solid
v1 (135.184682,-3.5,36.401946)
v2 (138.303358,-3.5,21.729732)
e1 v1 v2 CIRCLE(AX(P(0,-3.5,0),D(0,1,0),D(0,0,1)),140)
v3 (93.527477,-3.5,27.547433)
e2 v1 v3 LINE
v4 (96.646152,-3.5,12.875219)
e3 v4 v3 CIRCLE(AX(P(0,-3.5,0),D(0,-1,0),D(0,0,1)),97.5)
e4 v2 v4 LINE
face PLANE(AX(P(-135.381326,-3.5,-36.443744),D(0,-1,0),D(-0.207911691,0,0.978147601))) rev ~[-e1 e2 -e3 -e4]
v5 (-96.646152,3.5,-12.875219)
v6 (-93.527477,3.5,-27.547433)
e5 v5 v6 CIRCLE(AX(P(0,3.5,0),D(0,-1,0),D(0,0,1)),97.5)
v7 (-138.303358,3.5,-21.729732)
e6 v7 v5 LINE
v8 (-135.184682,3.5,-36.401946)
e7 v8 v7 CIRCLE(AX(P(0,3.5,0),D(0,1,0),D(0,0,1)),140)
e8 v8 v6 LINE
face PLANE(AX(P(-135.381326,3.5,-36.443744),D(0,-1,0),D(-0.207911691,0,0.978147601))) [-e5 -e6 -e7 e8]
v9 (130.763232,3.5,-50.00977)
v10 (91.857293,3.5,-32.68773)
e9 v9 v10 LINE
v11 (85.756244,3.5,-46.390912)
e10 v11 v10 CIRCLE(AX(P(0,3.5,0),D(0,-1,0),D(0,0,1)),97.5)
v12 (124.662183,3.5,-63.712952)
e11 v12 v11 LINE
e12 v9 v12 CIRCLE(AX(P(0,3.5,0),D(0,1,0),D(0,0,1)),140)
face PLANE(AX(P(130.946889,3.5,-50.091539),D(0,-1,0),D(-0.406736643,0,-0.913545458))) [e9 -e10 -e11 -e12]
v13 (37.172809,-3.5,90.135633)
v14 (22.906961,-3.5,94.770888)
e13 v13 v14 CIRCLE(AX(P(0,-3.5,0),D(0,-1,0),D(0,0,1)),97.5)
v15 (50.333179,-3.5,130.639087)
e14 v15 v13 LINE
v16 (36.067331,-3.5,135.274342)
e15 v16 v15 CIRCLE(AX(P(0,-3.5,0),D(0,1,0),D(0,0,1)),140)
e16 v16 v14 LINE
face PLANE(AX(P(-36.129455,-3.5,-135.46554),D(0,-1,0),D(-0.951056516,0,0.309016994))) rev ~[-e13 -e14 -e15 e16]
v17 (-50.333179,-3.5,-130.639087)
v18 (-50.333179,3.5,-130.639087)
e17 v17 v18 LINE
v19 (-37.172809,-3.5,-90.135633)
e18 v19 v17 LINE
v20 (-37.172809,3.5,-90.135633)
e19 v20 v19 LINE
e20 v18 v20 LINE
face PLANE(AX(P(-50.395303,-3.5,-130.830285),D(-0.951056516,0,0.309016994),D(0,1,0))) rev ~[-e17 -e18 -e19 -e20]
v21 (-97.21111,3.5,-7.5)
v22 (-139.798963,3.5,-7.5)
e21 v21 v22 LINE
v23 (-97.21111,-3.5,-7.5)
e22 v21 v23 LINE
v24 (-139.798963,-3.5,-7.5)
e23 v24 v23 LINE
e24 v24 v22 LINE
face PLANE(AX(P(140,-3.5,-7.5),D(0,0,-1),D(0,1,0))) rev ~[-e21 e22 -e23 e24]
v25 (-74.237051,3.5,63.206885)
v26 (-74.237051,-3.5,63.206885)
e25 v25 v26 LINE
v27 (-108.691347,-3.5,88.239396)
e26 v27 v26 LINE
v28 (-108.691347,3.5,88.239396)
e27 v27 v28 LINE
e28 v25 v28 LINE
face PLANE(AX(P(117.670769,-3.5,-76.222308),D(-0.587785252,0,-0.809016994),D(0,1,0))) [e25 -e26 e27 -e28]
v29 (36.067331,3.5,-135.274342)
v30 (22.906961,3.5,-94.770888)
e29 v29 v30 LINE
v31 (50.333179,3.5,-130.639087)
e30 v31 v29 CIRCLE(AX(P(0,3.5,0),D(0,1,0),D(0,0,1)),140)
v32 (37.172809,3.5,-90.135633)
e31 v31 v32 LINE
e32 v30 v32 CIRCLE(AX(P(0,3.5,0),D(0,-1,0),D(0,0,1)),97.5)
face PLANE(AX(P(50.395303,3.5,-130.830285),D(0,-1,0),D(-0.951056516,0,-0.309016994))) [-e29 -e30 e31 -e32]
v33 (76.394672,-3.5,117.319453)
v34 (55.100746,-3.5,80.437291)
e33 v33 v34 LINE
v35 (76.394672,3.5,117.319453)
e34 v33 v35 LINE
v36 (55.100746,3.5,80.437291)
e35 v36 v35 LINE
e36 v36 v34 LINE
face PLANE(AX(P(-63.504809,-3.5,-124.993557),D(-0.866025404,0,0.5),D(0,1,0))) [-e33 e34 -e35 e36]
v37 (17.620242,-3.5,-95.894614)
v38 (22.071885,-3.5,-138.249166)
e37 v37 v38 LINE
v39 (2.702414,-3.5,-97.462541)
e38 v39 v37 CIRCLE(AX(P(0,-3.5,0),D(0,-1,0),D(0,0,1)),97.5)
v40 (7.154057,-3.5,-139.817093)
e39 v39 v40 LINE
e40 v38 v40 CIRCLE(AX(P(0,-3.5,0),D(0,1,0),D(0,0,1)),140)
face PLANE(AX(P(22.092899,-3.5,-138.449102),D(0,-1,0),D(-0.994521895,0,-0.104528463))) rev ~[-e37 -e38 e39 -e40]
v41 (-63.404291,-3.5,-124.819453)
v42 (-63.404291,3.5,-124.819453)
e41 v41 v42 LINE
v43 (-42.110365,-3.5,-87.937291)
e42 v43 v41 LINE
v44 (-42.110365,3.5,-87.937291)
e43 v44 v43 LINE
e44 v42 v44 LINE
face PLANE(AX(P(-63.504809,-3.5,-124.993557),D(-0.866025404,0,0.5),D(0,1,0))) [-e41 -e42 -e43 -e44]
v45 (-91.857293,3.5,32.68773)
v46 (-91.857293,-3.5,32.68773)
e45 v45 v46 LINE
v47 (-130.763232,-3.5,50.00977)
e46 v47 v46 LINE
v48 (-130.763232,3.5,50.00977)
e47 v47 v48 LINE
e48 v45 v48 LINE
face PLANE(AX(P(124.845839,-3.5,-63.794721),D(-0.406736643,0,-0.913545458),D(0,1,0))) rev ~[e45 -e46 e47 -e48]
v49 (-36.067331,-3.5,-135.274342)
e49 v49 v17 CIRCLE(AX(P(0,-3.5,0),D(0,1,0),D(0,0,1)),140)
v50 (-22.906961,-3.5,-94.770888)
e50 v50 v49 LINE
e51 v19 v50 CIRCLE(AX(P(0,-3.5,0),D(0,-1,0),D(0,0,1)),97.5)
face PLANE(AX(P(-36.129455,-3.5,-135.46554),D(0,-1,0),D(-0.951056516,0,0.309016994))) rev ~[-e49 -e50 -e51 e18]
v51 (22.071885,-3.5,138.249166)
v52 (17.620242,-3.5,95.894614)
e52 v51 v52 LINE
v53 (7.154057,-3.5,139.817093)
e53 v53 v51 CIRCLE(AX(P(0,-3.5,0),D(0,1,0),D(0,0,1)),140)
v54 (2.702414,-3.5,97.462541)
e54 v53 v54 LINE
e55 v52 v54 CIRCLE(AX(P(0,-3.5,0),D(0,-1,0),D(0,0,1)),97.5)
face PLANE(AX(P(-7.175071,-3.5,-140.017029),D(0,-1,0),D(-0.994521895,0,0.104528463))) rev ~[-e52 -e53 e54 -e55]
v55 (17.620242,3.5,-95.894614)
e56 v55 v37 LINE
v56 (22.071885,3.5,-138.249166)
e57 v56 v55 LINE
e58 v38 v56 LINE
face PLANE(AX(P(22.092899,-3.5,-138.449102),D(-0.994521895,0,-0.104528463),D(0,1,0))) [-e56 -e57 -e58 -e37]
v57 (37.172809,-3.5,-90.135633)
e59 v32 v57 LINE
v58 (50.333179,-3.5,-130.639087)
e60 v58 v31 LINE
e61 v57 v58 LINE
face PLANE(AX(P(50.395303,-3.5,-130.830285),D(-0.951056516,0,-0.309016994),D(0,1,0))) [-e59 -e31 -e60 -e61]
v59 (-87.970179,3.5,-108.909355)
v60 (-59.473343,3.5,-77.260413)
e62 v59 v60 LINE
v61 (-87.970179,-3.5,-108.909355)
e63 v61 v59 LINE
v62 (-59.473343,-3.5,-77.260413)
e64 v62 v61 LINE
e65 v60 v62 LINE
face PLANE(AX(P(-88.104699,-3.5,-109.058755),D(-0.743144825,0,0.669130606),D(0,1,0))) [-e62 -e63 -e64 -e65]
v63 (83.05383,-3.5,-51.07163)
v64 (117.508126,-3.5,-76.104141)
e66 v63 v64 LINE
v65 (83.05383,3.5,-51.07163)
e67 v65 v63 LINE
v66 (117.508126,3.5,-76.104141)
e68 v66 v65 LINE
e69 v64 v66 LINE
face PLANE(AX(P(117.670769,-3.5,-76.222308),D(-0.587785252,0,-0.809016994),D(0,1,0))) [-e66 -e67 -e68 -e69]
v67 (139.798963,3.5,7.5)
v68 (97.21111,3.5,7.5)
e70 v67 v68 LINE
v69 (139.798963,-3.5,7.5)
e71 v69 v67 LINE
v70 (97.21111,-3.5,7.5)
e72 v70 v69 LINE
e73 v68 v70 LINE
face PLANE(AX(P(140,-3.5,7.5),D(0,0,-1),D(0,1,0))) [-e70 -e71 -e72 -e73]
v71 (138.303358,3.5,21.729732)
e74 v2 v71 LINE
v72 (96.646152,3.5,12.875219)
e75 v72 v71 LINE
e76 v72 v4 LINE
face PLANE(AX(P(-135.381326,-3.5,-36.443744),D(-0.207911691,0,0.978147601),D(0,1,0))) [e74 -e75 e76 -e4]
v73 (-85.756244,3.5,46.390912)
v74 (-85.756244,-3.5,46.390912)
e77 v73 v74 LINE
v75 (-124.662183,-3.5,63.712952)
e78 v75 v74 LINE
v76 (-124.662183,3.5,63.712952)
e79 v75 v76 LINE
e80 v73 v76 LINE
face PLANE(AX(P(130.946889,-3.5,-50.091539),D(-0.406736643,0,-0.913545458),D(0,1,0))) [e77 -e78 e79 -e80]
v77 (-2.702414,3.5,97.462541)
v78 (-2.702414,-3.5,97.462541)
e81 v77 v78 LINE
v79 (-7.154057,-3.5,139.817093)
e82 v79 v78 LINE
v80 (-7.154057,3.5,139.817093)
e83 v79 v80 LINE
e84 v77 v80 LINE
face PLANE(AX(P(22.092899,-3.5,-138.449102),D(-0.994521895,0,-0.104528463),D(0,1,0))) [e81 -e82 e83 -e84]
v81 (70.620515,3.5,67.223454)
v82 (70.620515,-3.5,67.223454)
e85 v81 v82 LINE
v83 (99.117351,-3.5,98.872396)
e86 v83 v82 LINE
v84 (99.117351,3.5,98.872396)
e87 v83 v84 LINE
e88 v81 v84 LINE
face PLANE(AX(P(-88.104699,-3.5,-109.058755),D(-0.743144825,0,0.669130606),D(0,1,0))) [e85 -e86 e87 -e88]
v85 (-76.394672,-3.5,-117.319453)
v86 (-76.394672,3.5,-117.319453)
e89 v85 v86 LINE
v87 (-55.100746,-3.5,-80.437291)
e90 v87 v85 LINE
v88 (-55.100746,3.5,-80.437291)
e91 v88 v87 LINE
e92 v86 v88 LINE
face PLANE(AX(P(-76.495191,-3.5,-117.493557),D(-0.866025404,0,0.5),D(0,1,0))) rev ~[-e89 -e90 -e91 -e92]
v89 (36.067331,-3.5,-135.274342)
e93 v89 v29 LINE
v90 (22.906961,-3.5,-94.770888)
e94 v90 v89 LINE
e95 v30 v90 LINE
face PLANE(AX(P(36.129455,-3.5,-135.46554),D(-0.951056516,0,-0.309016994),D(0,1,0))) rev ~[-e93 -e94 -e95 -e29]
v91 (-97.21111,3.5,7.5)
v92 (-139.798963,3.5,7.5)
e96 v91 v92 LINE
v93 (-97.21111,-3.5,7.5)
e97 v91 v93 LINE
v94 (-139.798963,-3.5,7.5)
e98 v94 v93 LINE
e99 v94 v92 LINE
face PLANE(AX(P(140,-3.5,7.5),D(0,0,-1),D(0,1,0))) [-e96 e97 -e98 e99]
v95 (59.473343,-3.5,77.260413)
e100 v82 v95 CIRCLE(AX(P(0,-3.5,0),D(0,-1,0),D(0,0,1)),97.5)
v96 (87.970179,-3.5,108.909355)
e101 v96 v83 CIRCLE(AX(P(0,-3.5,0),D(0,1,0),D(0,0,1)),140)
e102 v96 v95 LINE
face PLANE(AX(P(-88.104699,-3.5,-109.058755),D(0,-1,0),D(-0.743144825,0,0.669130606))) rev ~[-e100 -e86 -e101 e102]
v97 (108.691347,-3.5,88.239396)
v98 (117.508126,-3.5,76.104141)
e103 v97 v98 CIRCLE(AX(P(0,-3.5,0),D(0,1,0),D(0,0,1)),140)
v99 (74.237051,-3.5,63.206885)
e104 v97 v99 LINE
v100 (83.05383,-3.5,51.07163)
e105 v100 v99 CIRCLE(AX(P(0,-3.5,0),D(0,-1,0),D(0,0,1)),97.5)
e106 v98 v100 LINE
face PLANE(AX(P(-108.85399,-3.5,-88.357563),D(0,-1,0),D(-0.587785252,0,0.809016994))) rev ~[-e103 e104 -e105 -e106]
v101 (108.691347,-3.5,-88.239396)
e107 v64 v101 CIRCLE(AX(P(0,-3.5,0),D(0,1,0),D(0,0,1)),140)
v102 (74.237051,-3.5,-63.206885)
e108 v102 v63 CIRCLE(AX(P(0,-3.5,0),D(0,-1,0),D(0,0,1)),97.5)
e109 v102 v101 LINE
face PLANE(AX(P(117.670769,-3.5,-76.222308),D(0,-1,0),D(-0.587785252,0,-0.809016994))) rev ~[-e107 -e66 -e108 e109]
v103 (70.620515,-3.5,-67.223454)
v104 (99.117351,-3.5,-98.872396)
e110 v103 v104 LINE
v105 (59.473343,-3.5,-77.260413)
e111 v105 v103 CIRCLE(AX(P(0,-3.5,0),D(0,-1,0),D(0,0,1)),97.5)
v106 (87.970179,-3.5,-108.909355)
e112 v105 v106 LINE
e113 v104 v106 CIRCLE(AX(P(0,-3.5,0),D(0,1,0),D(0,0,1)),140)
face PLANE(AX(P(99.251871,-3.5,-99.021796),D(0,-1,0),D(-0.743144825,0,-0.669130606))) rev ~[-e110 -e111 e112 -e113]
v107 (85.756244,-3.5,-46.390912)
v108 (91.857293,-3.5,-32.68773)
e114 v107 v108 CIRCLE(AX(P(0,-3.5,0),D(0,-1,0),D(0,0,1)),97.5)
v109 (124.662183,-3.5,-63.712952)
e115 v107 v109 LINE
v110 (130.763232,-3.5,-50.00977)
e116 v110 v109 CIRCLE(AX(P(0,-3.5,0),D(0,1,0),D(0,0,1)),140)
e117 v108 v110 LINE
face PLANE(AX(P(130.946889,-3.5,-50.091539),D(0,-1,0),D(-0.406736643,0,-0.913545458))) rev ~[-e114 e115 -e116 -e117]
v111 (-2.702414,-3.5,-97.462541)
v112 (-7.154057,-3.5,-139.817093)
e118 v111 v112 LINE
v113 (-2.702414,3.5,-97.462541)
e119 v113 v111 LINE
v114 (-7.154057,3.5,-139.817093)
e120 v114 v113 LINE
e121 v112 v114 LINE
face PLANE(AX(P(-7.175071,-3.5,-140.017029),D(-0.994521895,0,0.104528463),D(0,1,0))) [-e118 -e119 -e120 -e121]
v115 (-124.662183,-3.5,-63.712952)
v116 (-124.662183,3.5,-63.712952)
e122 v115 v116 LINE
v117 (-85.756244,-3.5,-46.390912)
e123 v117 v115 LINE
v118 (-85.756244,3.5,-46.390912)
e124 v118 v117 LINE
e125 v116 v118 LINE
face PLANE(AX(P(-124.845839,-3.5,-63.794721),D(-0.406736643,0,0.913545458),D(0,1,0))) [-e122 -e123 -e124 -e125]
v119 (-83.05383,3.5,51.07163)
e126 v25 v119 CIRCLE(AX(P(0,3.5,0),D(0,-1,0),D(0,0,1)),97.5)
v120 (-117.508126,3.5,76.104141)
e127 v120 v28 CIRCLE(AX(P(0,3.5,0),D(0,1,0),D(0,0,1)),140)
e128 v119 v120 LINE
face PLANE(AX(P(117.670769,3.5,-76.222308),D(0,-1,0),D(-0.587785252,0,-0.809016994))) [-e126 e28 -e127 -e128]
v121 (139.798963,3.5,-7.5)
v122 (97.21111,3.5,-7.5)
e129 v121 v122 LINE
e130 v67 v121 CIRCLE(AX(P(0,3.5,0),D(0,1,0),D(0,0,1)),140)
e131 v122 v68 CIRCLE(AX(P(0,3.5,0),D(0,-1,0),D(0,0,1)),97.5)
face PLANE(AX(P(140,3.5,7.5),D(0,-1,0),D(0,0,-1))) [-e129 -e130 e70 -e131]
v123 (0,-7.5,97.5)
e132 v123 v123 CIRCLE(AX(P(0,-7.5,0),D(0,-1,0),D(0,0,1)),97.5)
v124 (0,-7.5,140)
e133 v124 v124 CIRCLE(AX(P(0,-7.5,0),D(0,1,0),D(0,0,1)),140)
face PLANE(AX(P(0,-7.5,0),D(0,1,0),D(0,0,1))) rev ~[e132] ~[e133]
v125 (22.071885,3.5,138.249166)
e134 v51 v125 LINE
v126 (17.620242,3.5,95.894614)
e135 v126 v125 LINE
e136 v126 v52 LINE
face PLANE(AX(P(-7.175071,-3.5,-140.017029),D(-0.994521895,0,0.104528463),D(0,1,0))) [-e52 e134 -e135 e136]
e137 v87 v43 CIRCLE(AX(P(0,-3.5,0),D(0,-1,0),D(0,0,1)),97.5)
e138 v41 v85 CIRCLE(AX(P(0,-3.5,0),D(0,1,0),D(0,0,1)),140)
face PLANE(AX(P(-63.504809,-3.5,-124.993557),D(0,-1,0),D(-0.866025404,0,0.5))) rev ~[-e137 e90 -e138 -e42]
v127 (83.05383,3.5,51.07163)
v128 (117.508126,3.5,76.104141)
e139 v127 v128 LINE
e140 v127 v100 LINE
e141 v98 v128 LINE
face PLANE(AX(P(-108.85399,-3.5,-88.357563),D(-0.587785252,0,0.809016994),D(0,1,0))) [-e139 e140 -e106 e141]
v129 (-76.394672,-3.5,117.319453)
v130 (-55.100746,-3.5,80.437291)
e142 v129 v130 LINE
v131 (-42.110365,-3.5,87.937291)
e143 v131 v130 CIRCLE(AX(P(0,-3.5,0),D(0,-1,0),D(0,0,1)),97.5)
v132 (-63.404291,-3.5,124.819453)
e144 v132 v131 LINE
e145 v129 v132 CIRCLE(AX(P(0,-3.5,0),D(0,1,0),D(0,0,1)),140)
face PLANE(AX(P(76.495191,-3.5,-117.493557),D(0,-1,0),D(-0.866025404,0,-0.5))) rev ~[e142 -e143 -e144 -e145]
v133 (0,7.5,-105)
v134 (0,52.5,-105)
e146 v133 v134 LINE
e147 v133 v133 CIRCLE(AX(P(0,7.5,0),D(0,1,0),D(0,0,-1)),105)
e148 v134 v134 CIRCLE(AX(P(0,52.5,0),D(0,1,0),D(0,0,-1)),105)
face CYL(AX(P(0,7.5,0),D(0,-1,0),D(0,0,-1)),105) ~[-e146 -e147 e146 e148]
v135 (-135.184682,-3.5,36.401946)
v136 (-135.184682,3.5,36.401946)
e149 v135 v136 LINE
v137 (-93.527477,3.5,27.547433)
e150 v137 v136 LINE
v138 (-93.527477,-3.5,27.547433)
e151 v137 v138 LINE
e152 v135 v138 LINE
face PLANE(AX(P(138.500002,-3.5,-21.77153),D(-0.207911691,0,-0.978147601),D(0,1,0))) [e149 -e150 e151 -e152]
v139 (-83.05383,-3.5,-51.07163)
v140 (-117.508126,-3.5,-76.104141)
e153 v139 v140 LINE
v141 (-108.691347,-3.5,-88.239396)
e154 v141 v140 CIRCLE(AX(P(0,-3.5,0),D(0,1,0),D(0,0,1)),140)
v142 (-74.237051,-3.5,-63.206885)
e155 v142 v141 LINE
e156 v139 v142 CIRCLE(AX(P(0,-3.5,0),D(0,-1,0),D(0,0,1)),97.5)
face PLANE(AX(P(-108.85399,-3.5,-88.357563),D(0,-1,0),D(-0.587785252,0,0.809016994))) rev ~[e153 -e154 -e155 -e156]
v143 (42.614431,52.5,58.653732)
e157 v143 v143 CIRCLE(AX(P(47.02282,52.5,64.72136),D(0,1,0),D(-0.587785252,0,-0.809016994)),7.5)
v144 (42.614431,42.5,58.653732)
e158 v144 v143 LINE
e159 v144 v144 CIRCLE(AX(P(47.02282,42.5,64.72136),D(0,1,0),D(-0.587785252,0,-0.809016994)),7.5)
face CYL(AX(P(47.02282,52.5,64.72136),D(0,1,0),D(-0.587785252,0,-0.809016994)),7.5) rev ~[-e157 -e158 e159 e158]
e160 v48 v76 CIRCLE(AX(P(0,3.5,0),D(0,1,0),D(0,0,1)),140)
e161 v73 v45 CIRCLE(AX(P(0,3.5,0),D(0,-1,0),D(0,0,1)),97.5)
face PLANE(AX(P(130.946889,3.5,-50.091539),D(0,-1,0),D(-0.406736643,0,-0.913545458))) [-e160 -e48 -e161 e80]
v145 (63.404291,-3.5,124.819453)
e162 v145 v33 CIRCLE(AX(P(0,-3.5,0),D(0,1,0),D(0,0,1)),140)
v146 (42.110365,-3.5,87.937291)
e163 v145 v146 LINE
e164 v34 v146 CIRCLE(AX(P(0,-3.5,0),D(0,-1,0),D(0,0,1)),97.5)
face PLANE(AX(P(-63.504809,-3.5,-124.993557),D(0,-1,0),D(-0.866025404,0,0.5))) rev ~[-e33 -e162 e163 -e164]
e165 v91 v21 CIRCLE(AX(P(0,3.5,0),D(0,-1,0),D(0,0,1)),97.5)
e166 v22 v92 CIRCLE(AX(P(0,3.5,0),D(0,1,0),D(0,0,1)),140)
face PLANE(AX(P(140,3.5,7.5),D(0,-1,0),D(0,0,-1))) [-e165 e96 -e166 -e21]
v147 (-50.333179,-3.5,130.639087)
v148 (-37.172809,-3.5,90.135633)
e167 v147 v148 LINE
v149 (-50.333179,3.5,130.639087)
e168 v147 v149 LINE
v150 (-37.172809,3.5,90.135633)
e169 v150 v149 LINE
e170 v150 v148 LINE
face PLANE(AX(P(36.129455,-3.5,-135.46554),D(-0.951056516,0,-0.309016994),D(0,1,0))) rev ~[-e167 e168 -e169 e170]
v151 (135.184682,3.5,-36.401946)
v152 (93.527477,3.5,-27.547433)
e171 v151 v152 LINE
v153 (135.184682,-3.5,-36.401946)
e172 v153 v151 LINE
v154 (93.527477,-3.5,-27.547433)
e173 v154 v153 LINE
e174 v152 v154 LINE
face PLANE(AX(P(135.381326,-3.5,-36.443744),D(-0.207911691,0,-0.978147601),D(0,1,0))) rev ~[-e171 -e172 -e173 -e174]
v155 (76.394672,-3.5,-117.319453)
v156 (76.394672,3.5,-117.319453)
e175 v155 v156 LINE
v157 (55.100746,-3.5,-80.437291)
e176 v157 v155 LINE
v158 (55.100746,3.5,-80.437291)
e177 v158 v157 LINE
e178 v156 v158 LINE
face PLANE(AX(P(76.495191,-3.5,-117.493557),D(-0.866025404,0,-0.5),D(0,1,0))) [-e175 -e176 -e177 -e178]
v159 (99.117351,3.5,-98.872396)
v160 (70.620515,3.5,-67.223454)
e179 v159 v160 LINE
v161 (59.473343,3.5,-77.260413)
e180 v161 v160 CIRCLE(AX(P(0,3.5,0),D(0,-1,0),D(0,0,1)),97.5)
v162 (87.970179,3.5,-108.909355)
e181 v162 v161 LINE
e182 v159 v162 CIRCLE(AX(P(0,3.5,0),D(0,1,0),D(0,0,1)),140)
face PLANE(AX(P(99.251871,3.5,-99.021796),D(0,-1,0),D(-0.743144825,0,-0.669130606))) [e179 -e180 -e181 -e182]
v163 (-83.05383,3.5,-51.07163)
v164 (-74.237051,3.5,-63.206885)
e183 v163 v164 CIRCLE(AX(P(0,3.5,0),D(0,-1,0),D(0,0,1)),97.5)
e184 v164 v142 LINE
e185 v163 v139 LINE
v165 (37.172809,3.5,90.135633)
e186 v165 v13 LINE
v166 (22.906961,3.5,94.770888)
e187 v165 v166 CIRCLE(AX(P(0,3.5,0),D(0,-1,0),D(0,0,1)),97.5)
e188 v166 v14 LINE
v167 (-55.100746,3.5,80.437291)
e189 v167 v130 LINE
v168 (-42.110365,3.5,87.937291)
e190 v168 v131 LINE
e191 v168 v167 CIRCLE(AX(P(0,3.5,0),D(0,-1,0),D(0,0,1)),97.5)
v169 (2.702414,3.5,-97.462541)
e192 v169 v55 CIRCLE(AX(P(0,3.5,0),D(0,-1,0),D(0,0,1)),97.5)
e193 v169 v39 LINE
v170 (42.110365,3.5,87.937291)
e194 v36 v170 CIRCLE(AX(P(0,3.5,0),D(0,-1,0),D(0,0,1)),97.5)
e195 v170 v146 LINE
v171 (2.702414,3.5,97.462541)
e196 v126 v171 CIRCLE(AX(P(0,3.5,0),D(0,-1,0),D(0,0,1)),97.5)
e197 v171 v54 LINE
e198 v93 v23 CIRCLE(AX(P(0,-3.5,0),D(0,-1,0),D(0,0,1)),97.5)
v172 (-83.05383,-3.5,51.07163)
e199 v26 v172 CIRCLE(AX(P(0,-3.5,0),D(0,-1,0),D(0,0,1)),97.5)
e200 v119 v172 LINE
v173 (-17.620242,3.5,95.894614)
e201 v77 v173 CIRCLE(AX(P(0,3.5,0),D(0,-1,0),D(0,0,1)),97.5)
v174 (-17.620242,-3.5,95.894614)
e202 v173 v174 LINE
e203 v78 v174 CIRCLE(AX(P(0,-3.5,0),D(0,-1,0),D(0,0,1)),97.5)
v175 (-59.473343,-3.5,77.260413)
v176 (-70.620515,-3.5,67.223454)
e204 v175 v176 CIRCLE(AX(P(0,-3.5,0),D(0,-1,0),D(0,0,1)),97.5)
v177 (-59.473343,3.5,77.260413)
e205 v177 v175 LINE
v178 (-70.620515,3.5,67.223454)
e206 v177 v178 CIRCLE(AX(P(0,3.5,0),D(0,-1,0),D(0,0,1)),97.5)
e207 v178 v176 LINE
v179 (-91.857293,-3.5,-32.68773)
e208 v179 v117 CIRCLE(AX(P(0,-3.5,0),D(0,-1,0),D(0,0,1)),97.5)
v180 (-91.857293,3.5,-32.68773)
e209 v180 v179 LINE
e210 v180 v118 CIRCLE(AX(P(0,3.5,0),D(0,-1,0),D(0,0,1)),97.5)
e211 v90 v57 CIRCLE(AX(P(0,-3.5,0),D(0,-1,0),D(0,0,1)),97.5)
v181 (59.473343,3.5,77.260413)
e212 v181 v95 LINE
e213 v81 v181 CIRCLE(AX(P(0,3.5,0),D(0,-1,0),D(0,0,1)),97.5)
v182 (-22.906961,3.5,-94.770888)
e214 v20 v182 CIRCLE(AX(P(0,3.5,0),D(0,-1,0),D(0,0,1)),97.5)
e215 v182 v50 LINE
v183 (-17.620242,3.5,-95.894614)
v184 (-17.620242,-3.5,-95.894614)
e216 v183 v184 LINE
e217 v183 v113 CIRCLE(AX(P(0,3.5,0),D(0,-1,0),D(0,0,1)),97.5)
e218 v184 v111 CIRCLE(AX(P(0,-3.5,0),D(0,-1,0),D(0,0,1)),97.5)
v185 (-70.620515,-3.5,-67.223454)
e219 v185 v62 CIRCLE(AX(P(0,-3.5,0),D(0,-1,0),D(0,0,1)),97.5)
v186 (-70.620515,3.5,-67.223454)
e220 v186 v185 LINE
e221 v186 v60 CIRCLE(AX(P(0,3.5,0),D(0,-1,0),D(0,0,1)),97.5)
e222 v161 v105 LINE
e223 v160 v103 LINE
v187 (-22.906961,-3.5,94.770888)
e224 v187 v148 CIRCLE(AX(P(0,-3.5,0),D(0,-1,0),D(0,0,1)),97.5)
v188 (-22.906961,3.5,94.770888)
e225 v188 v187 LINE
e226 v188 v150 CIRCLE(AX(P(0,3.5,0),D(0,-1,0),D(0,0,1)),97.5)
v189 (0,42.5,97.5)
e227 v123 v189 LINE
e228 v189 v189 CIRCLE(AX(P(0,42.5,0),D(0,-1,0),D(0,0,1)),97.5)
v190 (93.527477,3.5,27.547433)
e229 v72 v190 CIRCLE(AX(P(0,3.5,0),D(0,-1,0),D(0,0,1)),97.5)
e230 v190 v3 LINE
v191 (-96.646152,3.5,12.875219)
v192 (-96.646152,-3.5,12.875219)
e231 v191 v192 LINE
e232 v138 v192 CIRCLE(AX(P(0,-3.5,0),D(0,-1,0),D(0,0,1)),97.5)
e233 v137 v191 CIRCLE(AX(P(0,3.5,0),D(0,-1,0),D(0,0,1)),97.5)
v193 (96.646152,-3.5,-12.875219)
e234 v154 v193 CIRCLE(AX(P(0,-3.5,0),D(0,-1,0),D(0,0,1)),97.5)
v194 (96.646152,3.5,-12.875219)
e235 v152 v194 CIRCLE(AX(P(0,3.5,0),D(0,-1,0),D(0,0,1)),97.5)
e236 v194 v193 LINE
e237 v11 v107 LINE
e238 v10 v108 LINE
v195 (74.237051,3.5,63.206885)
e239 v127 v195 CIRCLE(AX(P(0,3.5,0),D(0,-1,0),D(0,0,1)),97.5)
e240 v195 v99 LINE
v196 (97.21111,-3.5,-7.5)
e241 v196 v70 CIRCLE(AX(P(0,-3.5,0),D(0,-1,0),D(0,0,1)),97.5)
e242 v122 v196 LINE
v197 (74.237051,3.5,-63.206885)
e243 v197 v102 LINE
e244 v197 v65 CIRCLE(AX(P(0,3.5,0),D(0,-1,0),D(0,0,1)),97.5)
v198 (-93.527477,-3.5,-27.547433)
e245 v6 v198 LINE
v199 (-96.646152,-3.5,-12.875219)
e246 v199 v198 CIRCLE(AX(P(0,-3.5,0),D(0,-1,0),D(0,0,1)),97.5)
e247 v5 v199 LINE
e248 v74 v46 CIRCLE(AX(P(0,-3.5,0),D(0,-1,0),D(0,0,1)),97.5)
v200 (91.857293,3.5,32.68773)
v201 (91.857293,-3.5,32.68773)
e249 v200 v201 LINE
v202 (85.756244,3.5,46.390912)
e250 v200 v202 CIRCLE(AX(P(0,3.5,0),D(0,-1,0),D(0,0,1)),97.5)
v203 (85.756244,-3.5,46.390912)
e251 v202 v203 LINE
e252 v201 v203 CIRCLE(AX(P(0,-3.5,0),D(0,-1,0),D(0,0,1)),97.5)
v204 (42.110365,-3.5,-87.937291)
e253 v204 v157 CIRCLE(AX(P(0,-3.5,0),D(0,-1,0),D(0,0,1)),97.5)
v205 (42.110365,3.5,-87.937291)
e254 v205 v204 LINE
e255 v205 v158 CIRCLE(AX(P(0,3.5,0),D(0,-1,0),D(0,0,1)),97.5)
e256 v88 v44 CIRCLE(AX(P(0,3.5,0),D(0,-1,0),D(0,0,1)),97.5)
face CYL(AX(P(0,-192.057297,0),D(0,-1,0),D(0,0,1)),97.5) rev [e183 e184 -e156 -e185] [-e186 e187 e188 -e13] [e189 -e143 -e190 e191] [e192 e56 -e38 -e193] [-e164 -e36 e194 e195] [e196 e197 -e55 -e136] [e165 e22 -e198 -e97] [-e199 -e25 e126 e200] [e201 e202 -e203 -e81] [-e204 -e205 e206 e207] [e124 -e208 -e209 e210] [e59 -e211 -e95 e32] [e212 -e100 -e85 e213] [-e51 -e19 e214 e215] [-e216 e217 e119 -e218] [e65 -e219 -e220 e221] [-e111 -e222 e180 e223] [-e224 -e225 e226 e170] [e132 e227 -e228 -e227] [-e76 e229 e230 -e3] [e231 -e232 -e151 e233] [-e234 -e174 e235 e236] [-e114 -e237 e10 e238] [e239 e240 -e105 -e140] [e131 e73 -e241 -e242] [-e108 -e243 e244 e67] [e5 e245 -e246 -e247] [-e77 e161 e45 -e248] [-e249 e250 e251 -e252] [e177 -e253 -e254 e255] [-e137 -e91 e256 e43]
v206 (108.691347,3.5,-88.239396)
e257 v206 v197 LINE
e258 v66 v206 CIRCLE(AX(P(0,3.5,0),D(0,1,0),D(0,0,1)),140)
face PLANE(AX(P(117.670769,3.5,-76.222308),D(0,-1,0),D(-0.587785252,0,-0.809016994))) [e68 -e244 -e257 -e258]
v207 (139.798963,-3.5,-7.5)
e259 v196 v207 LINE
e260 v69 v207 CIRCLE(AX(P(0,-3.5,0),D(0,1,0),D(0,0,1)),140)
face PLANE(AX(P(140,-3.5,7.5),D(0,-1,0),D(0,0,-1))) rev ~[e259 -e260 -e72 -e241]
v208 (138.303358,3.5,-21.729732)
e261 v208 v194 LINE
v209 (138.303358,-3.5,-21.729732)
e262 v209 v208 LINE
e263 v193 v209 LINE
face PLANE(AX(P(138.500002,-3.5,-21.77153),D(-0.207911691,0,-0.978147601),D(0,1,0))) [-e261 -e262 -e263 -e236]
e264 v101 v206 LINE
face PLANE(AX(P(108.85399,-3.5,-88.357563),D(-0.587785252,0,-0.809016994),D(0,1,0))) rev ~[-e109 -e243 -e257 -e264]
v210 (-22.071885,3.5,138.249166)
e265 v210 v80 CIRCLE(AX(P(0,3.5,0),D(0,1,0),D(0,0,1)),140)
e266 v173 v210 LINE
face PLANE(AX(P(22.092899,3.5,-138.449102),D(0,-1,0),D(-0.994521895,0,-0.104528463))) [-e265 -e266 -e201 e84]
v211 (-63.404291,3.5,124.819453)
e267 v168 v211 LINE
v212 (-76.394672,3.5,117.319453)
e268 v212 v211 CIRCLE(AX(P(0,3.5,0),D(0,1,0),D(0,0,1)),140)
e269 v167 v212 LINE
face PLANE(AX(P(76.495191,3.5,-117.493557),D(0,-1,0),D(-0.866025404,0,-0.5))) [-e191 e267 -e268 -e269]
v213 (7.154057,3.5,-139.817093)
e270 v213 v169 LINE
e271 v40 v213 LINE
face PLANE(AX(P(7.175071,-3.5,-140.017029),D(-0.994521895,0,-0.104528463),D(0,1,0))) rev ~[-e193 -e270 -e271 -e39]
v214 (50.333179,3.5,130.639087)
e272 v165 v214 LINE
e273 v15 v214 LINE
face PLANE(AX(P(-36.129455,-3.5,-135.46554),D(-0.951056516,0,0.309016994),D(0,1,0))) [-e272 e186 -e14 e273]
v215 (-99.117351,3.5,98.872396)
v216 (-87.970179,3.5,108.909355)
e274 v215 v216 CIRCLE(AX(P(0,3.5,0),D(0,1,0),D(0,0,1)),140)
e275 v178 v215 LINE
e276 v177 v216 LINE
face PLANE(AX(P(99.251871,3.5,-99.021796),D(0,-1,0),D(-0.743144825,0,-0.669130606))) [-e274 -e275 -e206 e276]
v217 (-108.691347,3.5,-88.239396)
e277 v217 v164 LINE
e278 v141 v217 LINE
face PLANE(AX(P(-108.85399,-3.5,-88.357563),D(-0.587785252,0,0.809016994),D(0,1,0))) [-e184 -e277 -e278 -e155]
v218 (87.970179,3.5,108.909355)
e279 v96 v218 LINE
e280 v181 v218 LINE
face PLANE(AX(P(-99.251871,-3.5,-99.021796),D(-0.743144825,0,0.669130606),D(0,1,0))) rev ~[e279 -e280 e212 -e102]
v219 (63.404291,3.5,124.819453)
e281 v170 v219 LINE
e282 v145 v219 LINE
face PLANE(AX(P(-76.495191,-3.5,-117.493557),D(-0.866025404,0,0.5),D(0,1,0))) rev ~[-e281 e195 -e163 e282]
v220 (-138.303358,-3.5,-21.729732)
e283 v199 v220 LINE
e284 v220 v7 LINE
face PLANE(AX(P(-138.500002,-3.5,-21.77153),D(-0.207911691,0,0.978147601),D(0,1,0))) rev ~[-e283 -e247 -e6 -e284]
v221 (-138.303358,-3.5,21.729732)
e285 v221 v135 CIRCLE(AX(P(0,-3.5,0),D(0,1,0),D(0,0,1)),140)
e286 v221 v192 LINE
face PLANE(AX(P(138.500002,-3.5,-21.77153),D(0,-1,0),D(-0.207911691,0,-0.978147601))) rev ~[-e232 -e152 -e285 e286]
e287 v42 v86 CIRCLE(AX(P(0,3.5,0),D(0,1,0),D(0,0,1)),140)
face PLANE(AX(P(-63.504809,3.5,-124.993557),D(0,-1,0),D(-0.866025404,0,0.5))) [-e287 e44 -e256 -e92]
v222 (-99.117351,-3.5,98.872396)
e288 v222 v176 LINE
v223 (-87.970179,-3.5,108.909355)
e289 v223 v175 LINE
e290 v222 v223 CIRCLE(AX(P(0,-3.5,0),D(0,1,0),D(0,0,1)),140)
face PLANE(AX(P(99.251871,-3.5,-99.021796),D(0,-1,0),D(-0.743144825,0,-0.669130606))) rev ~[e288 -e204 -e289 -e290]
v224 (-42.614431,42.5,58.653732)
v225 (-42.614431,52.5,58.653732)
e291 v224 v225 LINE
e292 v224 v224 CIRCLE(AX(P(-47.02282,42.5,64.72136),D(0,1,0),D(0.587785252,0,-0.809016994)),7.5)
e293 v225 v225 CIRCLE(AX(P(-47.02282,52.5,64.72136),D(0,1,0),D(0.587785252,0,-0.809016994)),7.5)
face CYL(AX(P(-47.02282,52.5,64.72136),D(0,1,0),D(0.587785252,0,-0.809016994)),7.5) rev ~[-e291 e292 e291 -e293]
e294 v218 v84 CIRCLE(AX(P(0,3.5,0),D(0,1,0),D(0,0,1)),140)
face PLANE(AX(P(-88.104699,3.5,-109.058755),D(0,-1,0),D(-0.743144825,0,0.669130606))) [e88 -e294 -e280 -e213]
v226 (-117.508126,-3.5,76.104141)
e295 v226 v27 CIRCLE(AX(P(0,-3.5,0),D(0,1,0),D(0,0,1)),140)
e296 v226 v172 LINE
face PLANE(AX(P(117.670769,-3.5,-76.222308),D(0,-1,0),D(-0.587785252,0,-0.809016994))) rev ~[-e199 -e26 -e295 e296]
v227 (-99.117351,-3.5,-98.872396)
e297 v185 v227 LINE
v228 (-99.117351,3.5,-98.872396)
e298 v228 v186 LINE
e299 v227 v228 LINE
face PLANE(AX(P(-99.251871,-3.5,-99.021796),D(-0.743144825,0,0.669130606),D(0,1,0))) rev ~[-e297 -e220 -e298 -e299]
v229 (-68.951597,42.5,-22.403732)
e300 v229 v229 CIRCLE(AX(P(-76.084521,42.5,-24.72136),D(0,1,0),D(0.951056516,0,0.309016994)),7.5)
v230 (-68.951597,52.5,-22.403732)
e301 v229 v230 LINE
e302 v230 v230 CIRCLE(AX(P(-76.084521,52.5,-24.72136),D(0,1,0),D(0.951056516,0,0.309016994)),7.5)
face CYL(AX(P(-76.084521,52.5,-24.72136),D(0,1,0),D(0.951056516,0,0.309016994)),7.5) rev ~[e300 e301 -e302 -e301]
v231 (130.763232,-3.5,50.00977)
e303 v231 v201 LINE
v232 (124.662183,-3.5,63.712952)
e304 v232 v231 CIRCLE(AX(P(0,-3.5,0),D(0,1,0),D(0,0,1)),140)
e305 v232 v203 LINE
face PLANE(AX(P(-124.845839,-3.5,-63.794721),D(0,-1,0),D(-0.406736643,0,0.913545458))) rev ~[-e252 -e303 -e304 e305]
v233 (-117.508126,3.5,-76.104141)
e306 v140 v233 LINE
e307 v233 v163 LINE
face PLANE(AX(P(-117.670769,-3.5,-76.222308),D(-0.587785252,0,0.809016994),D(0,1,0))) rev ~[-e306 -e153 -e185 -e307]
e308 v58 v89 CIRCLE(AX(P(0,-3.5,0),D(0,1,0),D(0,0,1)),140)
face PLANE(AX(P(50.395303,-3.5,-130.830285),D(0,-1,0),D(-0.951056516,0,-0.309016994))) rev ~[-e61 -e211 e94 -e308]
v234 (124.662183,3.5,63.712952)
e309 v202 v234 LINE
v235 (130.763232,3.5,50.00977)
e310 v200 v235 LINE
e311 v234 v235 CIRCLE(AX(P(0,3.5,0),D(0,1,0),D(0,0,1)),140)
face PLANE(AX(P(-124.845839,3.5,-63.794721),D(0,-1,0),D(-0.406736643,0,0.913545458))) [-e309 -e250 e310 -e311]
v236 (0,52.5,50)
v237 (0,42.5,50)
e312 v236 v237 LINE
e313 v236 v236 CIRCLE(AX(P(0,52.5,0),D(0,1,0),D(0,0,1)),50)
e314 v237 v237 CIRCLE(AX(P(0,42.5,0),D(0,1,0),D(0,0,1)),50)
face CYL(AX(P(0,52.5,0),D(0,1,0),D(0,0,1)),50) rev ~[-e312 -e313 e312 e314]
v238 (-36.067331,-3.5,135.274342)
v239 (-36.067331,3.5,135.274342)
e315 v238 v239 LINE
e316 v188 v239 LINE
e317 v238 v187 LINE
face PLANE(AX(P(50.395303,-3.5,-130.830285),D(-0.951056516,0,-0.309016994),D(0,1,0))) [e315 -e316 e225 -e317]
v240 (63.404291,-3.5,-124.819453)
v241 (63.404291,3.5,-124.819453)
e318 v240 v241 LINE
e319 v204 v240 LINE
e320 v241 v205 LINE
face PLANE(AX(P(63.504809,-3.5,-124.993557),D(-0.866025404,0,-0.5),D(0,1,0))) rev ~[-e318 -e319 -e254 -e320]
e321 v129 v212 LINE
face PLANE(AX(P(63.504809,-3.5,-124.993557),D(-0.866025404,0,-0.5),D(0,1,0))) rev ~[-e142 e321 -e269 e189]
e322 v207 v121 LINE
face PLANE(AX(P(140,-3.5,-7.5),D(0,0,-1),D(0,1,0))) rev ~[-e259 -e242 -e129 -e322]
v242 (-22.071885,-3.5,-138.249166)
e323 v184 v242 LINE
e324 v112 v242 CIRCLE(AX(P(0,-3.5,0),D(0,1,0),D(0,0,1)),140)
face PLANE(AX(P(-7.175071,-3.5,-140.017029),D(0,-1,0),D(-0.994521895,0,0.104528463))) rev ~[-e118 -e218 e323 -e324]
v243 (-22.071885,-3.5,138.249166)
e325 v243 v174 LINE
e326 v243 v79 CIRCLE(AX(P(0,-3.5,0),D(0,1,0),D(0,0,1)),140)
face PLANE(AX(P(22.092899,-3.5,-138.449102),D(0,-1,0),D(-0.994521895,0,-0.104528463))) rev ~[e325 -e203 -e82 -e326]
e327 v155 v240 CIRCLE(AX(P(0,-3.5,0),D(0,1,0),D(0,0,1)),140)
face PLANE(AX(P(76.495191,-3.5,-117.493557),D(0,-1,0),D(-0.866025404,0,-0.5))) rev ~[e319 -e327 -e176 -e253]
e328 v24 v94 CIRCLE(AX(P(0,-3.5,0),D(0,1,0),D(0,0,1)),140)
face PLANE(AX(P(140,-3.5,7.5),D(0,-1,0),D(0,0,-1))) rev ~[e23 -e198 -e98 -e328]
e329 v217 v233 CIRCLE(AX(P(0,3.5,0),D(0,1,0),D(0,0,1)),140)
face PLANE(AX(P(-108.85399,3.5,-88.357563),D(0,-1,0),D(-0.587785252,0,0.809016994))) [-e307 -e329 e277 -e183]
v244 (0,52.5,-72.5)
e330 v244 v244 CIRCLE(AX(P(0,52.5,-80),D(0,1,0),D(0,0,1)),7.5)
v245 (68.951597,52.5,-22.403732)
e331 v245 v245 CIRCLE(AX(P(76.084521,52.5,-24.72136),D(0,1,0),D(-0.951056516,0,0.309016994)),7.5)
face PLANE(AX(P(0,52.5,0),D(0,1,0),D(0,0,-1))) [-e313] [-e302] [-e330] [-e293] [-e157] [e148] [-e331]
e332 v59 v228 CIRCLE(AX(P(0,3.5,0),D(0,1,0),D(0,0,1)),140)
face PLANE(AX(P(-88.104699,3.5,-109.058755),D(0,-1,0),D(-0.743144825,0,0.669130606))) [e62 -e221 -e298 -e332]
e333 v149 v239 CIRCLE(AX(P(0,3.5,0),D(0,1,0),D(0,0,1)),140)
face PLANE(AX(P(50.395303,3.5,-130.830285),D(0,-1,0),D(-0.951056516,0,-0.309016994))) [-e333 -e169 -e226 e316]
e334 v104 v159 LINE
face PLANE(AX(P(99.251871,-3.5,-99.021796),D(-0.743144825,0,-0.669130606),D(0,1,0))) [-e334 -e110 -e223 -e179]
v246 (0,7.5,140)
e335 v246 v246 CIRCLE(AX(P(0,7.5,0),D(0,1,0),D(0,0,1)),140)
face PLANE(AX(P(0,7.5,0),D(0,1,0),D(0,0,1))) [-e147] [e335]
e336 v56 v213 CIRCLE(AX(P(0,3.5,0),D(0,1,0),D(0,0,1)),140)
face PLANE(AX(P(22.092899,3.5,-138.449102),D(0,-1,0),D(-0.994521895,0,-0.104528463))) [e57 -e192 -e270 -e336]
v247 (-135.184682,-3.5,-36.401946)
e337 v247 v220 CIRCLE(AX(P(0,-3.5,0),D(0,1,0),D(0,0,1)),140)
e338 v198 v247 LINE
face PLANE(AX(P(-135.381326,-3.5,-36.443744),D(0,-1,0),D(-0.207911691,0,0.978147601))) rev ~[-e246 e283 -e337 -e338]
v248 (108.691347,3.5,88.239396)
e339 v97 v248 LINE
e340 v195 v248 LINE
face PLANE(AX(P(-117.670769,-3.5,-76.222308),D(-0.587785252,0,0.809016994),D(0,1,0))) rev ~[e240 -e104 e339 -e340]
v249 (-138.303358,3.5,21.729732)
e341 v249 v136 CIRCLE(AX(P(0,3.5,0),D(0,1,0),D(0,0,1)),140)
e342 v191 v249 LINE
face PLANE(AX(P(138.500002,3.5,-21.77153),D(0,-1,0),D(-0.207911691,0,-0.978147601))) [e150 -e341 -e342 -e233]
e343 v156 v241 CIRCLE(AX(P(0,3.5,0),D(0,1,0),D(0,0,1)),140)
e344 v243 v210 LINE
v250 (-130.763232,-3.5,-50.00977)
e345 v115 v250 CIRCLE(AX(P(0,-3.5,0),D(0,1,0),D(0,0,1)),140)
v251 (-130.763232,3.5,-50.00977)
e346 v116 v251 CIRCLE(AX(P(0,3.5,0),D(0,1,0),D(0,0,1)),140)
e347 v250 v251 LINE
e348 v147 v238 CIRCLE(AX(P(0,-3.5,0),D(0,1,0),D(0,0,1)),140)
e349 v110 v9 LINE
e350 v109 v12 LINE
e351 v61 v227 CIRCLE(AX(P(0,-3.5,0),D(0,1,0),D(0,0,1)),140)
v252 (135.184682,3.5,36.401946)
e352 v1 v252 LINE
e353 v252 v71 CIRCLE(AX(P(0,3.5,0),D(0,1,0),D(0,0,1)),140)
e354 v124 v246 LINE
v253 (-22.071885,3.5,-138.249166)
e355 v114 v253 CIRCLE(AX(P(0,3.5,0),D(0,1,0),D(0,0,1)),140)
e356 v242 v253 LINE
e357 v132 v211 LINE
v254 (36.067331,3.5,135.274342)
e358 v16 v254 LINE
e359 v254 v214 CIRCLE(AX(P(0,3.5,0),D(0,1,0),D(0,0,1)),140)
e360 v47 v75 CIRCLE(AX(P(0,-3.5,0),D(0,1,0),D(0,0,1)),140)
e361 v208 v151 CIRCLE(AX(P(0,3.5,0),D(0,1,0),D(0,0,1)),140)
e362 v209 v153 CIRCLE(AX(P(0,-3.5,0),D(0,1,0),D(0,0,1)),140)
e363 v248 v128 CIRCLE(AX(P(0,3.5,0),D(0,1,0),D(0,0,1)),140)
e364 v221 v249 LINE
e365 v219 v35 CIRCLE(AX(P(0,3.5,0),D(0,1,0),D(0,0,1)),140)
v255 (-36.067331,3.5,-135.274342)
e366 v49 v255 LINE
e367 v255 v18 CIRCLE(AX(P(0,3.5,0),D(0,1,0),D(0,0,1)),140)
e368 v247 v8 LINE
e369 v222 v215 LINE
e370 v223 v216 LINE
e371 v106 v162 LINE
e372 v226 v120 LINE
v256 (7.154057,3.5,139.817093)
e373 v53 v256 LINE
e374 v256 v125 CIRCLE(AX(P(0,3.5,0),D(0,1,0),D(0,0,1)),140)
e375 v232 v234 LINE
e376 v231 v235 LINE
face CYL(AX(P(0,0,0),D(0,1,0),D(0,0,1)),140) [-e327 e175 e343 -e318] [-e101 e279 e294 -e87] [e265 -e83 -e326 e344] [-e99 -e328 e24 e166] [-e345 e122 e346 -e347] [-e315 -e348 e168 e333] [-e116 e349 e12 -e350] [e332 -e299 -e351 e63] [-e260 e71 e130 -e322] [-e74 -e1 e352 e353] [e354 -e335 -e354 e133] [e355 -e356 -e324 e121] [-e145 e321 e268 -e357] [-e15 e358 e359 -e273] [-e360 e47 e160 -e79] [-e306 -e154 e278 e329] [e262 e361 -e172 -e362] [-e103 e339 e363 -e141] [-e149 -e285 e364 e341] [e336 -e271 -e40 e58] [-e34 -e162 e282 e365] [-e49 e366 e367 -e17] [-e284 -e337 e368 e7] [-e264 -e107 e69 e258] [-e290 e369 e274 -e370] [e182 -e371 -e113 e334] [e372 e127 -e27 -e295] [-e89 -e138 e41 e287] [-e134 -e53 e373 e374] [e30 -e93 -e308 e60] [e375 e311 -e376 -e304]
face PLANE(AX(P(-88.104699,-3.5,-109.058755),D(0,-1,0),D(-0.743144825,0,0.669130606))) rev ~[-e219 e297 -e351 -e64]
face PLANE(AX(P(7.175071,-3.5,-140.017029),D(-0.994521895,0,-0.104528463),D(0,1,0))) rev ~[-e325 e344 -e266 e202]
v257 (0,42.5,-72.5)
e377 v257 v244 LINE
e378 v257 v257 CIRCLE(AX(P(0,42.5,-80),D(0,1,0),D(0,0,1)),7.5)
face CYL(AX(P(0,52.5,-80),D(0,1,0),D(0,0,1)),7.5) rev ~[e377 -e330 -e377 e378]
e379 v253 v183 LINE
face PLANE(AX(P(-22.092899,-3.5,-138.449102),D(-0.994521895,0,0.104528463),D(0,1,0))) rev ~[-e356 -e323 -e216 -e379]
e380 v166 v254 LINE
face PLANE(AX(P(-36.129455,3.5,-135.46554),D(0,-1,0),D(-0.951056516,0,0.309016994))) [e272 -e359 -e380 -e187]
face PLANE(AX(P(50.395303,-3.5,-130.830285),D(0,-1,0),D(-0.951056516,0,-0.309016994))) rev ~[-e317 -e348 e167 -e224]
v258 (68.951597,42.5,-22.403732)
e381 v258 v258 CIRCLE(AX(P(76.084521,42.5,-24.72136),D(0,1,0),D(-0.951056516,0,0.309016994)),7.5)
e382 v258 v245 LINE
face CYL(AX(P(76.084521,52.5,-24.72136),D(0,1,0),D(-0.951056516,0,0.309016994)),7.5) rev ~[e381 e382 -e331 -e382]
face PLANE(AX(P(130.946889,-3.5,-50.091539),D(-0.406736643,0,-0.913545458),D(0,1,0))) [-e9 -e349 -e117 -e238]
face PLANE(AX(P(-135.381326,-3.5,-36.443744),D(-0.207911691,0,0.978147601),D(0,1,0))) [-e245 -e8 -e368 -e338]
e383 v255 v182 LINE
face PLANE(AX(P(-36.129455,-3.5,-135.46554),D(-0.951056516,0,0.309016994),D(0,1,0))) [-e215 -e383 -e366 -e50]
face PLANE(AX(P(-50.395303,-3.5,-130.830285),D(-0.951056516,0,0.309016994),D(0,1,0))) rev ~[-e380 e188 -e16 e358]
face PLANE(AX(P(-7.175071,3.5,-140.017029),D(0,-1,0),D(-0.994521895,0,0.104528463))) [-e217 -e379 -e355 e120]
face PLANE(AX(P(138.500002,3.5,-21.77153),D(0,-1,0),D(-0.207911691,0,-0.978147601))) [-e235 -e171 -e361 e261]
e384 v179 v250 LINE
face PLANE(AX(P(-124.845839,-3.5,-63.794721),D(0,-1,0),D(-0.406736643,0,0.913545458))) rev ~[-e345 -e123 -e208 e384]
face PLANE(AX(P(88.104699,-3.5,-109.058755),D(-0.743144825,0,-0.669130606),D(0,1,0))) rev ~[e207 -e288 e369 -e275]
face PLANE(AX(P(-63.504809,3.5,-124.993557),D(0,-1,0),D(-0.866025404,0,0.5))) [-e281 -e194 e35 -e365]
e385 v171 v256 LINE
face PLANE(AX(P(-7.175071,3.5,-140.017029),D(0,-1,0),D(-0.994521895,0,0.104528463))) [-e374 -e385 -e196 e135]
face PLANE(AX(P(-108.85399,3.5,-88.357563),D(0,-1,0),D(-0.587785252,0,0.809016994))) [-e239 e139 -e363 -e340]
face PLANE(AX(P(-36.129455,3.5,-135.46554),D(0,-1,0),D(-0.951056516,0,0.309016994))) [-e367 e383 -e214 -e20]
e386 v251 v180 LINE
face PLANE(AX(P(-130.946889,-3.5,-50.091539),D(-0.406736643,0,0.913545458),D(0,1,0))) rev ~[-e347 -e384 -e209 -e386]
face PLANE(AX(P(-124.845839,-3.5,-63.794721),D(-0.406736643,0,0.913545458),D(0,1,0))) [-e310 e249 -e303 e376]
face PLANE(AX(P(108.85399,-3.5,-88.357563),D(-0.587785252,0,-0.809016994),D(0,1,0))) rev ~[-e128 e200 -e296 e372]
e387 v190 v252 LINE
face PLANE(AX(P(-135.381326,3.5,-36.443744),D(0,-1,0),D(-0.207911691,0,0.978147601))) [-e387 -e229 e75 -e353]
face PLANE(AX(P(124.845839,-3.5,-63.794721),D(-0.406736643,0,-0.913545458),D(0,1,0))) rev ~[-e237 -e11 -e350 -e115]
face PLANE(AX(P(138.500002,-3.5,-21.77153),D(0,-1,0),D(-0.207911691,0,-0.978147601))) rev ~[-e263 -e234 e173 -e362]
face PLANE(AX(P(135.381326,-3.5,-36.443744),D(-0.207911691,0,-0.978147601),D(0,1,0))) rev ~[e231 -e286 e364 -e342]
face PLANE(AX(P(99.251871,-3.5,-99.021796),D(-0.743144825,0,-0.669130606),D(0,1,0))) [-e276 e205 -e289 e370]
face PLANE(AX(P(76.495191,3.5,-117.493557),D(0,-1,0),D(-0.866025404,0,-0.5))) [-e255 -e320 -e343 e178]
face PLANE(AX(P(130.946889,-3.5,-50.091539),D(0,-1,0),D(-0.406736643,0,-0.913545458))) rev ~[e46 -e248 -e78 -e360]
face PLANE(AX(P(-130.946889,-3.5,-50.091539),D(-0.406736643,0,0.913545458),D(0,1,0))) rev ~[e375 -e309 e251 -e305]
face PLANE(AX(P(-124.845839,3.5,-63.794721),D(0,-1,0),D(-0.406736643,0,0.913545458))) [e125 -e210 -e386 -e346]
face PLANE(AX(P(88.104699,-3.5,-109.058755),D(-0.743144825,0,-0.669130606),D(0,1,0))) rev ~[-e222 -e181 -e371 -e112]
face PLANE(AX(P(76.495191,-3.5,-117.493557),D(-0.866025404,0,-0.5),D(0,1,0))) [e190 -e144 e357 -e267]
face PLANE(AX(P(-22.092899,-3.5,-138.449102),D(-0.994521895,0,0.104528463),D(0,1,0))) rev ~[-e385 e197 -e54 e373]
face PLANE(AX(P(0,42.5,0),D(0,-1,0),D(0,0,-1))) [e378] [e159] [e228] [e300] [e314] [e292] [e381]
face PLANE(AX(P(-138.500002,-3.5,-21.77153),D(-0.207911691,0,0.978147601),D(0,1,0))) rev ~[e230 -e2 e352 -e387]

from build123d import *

# Parameters (mm, degrees)
SKETCH1_R               = 140
BOSS_EXTRUDE1_DEPTH     = 7.5
CUT_EXTRUDE1_DEPTH      = 199.557296517
CUT_EXTRUDE1_DEPTH_BACK = 199.557296517
SKETCH2_R               = 97.5
SKETCH3_R               = 105
BOSS_EXTRUDE2_DEPTH     = 45
SKETCH5_R               = 50
CUT_EXTRUDE2_DEPTH      = 207.881608656
SKETCH7_R               = 7.5
CUT_EXTRUDE3_DEPTH      = 207.881608656
CIRPATTERN1_COUNT       = 5
SKETCH9_W               = 15
SKETCH9_H               = 7
CUT_EXTRUDE4_DEPTH      = 318.421250076
CIRPATTERN2_COUNT       = 30
SKETCH11_R              = 96.873816077
CUT_EXTRUDE5_DEPTH      = 35
CUT_EXTRUDE6_START      = -35
SKETCH12_R              = 97.5
CUT_EXTRUDE6_DEPTH      = 35


with BuildPart() as part:
    # Sketch1 → Boss-Extrude1 (new, symmetric)
    with BuildSketch(Plane(origin=(0, 0, 0), x_dir=(1, 0, 0), z_dir=(0, 1, 0))):
        with Locations(Location((0, 0, 0), (0, 0, 270))):
            Circle(SKETCH1_R)
    extrude(amount=BOSS_EXTRUDE1_DEPTH, both=True)

    # Sketch2 → Cut-Extrude1 (cut, two sides: drawn at the far end of the back side and taken through both)
    with BuildSketch(Plane(origin=(0, 7.5, 0), x_dir=(1, 0, 0), z_dir=(0, 1, 0)).offset(-CUT_EXTRUDE1_DEPTH_BACK)):
        with Locations(Location((0, 0, 0), (0, 0, 270))):
            Circle(SKETCH2_R)
    extrude(amount=CUT_EXTRUDE1_DEPTH + CUT_EXTRUDE1_DEPTH_BACK, mode=Mode.SUBTRACT)

    # Sketch3 → Boss-Extrude2 (add)
    with BuildSketch(Plane(origin=(0, 7.5, 0), x_dir=(1, 0, 0), z_dir=(0, 1, 0))):
        with Locations(Location((0, 0, 0), (0, 0, 90))):
            Circle(SKETCH3_R)
    extrude(amount=BOSS_EXTRUDE2_DEPTH)

    # Sketch5 → Cut-Extrude2 (cut, through all)
    with BuildSketch(Plane(origin=(0, 52.5, 0), x_dir=(1, 0, 0), z_dir=(0, 1, 0))):
        with Locations(Location((0, 0, 0), (0, 0, 270))):
            Circle(SKETCH5_R)
    extrude(amount=-CUT_EXTRUDE2_DEPTH, mode=Mode.SUBTRACT)

    # Sketch7 → Cut-Extrude3 (cut, symmetric)
    with BuildSketch(Plane(origin=(0, 52.5, 0), x_dir=(1, 0, 0), z_dir=(0, 1, 0))):
        with Locations(Location((0, 80, 0), (0, 0, 270))):
            Circle(SKETCH7_R)
    cut_extrude3 = extrude(amount=CUT_EXTRUDE3_DEPTH, both=True, mode=Mode.SUBTRACT)

    # CirPattern1: Cut-Extrude3 ×5 about axis
    cirpattern1_axis = Axis((0, 0, 0), (0, 1, 0))
    for i in range(1, CIRPATTERN1_COUNT):
        add(cut_extrude3.rotate(cirpattern1_axis, i * 360 / CIRPATTERN1_COUNT), mode=Mode.SUBTRACT)

    # Sketch9 → Cut-Extrude4 (cut, symmetric)
    with BuildSketch(Plane(origin=(140, 0, 0), x_dir=(0, 0, -1), z_dir=(1, 0, 0))):
        Rectangle(SKETCH9_W, SKETCH9_H)
    cut_extrude4 = extrude(amount=CUT_EXTRUDE4_DEPTH, both=True, mode=Mode.SUBTRACT)

    # CirPattern2: Cut-Extrude4 ×30 about axis
    cirpattern2_axis = Axis((0, 0, 0), (0, 1, 0))
    for i in range(1, CIRPATTERN2_COUNT):
        add(cut_extrude4.rotate(cirpattern2_axis, i * 360 / CIRPATTERN2_COUNT), mode=Mode.SUBTRACT)

    # Sketch11 → Cut-Extrude5 (cut)
    with BuildSketch(Plane.XZ.offset(-7.5)):
        with Locations(Location((0, 0, 0), (0, 0, 270))):
            Circle(SKETCH11_R)
    extrude(amount=-CUT_EXTRUDE5_DEPTH, mode=Mode.SUBTRACT)

    # Sketch12 → Cut-Extrude6 (cut)
    with BuildSketch(Plane.XZ.offset(-7.5).offset(CUT_EXTRUDE6_START)):
        with Locations(Location((0, 0, 0), (0, 0, 90))):
            Circle(SKETCH12_R)
    extrude(amount=CUT_EXTRUDE6_DEPTH, mode=Mode.SUBTRACT)


solid = part.part
